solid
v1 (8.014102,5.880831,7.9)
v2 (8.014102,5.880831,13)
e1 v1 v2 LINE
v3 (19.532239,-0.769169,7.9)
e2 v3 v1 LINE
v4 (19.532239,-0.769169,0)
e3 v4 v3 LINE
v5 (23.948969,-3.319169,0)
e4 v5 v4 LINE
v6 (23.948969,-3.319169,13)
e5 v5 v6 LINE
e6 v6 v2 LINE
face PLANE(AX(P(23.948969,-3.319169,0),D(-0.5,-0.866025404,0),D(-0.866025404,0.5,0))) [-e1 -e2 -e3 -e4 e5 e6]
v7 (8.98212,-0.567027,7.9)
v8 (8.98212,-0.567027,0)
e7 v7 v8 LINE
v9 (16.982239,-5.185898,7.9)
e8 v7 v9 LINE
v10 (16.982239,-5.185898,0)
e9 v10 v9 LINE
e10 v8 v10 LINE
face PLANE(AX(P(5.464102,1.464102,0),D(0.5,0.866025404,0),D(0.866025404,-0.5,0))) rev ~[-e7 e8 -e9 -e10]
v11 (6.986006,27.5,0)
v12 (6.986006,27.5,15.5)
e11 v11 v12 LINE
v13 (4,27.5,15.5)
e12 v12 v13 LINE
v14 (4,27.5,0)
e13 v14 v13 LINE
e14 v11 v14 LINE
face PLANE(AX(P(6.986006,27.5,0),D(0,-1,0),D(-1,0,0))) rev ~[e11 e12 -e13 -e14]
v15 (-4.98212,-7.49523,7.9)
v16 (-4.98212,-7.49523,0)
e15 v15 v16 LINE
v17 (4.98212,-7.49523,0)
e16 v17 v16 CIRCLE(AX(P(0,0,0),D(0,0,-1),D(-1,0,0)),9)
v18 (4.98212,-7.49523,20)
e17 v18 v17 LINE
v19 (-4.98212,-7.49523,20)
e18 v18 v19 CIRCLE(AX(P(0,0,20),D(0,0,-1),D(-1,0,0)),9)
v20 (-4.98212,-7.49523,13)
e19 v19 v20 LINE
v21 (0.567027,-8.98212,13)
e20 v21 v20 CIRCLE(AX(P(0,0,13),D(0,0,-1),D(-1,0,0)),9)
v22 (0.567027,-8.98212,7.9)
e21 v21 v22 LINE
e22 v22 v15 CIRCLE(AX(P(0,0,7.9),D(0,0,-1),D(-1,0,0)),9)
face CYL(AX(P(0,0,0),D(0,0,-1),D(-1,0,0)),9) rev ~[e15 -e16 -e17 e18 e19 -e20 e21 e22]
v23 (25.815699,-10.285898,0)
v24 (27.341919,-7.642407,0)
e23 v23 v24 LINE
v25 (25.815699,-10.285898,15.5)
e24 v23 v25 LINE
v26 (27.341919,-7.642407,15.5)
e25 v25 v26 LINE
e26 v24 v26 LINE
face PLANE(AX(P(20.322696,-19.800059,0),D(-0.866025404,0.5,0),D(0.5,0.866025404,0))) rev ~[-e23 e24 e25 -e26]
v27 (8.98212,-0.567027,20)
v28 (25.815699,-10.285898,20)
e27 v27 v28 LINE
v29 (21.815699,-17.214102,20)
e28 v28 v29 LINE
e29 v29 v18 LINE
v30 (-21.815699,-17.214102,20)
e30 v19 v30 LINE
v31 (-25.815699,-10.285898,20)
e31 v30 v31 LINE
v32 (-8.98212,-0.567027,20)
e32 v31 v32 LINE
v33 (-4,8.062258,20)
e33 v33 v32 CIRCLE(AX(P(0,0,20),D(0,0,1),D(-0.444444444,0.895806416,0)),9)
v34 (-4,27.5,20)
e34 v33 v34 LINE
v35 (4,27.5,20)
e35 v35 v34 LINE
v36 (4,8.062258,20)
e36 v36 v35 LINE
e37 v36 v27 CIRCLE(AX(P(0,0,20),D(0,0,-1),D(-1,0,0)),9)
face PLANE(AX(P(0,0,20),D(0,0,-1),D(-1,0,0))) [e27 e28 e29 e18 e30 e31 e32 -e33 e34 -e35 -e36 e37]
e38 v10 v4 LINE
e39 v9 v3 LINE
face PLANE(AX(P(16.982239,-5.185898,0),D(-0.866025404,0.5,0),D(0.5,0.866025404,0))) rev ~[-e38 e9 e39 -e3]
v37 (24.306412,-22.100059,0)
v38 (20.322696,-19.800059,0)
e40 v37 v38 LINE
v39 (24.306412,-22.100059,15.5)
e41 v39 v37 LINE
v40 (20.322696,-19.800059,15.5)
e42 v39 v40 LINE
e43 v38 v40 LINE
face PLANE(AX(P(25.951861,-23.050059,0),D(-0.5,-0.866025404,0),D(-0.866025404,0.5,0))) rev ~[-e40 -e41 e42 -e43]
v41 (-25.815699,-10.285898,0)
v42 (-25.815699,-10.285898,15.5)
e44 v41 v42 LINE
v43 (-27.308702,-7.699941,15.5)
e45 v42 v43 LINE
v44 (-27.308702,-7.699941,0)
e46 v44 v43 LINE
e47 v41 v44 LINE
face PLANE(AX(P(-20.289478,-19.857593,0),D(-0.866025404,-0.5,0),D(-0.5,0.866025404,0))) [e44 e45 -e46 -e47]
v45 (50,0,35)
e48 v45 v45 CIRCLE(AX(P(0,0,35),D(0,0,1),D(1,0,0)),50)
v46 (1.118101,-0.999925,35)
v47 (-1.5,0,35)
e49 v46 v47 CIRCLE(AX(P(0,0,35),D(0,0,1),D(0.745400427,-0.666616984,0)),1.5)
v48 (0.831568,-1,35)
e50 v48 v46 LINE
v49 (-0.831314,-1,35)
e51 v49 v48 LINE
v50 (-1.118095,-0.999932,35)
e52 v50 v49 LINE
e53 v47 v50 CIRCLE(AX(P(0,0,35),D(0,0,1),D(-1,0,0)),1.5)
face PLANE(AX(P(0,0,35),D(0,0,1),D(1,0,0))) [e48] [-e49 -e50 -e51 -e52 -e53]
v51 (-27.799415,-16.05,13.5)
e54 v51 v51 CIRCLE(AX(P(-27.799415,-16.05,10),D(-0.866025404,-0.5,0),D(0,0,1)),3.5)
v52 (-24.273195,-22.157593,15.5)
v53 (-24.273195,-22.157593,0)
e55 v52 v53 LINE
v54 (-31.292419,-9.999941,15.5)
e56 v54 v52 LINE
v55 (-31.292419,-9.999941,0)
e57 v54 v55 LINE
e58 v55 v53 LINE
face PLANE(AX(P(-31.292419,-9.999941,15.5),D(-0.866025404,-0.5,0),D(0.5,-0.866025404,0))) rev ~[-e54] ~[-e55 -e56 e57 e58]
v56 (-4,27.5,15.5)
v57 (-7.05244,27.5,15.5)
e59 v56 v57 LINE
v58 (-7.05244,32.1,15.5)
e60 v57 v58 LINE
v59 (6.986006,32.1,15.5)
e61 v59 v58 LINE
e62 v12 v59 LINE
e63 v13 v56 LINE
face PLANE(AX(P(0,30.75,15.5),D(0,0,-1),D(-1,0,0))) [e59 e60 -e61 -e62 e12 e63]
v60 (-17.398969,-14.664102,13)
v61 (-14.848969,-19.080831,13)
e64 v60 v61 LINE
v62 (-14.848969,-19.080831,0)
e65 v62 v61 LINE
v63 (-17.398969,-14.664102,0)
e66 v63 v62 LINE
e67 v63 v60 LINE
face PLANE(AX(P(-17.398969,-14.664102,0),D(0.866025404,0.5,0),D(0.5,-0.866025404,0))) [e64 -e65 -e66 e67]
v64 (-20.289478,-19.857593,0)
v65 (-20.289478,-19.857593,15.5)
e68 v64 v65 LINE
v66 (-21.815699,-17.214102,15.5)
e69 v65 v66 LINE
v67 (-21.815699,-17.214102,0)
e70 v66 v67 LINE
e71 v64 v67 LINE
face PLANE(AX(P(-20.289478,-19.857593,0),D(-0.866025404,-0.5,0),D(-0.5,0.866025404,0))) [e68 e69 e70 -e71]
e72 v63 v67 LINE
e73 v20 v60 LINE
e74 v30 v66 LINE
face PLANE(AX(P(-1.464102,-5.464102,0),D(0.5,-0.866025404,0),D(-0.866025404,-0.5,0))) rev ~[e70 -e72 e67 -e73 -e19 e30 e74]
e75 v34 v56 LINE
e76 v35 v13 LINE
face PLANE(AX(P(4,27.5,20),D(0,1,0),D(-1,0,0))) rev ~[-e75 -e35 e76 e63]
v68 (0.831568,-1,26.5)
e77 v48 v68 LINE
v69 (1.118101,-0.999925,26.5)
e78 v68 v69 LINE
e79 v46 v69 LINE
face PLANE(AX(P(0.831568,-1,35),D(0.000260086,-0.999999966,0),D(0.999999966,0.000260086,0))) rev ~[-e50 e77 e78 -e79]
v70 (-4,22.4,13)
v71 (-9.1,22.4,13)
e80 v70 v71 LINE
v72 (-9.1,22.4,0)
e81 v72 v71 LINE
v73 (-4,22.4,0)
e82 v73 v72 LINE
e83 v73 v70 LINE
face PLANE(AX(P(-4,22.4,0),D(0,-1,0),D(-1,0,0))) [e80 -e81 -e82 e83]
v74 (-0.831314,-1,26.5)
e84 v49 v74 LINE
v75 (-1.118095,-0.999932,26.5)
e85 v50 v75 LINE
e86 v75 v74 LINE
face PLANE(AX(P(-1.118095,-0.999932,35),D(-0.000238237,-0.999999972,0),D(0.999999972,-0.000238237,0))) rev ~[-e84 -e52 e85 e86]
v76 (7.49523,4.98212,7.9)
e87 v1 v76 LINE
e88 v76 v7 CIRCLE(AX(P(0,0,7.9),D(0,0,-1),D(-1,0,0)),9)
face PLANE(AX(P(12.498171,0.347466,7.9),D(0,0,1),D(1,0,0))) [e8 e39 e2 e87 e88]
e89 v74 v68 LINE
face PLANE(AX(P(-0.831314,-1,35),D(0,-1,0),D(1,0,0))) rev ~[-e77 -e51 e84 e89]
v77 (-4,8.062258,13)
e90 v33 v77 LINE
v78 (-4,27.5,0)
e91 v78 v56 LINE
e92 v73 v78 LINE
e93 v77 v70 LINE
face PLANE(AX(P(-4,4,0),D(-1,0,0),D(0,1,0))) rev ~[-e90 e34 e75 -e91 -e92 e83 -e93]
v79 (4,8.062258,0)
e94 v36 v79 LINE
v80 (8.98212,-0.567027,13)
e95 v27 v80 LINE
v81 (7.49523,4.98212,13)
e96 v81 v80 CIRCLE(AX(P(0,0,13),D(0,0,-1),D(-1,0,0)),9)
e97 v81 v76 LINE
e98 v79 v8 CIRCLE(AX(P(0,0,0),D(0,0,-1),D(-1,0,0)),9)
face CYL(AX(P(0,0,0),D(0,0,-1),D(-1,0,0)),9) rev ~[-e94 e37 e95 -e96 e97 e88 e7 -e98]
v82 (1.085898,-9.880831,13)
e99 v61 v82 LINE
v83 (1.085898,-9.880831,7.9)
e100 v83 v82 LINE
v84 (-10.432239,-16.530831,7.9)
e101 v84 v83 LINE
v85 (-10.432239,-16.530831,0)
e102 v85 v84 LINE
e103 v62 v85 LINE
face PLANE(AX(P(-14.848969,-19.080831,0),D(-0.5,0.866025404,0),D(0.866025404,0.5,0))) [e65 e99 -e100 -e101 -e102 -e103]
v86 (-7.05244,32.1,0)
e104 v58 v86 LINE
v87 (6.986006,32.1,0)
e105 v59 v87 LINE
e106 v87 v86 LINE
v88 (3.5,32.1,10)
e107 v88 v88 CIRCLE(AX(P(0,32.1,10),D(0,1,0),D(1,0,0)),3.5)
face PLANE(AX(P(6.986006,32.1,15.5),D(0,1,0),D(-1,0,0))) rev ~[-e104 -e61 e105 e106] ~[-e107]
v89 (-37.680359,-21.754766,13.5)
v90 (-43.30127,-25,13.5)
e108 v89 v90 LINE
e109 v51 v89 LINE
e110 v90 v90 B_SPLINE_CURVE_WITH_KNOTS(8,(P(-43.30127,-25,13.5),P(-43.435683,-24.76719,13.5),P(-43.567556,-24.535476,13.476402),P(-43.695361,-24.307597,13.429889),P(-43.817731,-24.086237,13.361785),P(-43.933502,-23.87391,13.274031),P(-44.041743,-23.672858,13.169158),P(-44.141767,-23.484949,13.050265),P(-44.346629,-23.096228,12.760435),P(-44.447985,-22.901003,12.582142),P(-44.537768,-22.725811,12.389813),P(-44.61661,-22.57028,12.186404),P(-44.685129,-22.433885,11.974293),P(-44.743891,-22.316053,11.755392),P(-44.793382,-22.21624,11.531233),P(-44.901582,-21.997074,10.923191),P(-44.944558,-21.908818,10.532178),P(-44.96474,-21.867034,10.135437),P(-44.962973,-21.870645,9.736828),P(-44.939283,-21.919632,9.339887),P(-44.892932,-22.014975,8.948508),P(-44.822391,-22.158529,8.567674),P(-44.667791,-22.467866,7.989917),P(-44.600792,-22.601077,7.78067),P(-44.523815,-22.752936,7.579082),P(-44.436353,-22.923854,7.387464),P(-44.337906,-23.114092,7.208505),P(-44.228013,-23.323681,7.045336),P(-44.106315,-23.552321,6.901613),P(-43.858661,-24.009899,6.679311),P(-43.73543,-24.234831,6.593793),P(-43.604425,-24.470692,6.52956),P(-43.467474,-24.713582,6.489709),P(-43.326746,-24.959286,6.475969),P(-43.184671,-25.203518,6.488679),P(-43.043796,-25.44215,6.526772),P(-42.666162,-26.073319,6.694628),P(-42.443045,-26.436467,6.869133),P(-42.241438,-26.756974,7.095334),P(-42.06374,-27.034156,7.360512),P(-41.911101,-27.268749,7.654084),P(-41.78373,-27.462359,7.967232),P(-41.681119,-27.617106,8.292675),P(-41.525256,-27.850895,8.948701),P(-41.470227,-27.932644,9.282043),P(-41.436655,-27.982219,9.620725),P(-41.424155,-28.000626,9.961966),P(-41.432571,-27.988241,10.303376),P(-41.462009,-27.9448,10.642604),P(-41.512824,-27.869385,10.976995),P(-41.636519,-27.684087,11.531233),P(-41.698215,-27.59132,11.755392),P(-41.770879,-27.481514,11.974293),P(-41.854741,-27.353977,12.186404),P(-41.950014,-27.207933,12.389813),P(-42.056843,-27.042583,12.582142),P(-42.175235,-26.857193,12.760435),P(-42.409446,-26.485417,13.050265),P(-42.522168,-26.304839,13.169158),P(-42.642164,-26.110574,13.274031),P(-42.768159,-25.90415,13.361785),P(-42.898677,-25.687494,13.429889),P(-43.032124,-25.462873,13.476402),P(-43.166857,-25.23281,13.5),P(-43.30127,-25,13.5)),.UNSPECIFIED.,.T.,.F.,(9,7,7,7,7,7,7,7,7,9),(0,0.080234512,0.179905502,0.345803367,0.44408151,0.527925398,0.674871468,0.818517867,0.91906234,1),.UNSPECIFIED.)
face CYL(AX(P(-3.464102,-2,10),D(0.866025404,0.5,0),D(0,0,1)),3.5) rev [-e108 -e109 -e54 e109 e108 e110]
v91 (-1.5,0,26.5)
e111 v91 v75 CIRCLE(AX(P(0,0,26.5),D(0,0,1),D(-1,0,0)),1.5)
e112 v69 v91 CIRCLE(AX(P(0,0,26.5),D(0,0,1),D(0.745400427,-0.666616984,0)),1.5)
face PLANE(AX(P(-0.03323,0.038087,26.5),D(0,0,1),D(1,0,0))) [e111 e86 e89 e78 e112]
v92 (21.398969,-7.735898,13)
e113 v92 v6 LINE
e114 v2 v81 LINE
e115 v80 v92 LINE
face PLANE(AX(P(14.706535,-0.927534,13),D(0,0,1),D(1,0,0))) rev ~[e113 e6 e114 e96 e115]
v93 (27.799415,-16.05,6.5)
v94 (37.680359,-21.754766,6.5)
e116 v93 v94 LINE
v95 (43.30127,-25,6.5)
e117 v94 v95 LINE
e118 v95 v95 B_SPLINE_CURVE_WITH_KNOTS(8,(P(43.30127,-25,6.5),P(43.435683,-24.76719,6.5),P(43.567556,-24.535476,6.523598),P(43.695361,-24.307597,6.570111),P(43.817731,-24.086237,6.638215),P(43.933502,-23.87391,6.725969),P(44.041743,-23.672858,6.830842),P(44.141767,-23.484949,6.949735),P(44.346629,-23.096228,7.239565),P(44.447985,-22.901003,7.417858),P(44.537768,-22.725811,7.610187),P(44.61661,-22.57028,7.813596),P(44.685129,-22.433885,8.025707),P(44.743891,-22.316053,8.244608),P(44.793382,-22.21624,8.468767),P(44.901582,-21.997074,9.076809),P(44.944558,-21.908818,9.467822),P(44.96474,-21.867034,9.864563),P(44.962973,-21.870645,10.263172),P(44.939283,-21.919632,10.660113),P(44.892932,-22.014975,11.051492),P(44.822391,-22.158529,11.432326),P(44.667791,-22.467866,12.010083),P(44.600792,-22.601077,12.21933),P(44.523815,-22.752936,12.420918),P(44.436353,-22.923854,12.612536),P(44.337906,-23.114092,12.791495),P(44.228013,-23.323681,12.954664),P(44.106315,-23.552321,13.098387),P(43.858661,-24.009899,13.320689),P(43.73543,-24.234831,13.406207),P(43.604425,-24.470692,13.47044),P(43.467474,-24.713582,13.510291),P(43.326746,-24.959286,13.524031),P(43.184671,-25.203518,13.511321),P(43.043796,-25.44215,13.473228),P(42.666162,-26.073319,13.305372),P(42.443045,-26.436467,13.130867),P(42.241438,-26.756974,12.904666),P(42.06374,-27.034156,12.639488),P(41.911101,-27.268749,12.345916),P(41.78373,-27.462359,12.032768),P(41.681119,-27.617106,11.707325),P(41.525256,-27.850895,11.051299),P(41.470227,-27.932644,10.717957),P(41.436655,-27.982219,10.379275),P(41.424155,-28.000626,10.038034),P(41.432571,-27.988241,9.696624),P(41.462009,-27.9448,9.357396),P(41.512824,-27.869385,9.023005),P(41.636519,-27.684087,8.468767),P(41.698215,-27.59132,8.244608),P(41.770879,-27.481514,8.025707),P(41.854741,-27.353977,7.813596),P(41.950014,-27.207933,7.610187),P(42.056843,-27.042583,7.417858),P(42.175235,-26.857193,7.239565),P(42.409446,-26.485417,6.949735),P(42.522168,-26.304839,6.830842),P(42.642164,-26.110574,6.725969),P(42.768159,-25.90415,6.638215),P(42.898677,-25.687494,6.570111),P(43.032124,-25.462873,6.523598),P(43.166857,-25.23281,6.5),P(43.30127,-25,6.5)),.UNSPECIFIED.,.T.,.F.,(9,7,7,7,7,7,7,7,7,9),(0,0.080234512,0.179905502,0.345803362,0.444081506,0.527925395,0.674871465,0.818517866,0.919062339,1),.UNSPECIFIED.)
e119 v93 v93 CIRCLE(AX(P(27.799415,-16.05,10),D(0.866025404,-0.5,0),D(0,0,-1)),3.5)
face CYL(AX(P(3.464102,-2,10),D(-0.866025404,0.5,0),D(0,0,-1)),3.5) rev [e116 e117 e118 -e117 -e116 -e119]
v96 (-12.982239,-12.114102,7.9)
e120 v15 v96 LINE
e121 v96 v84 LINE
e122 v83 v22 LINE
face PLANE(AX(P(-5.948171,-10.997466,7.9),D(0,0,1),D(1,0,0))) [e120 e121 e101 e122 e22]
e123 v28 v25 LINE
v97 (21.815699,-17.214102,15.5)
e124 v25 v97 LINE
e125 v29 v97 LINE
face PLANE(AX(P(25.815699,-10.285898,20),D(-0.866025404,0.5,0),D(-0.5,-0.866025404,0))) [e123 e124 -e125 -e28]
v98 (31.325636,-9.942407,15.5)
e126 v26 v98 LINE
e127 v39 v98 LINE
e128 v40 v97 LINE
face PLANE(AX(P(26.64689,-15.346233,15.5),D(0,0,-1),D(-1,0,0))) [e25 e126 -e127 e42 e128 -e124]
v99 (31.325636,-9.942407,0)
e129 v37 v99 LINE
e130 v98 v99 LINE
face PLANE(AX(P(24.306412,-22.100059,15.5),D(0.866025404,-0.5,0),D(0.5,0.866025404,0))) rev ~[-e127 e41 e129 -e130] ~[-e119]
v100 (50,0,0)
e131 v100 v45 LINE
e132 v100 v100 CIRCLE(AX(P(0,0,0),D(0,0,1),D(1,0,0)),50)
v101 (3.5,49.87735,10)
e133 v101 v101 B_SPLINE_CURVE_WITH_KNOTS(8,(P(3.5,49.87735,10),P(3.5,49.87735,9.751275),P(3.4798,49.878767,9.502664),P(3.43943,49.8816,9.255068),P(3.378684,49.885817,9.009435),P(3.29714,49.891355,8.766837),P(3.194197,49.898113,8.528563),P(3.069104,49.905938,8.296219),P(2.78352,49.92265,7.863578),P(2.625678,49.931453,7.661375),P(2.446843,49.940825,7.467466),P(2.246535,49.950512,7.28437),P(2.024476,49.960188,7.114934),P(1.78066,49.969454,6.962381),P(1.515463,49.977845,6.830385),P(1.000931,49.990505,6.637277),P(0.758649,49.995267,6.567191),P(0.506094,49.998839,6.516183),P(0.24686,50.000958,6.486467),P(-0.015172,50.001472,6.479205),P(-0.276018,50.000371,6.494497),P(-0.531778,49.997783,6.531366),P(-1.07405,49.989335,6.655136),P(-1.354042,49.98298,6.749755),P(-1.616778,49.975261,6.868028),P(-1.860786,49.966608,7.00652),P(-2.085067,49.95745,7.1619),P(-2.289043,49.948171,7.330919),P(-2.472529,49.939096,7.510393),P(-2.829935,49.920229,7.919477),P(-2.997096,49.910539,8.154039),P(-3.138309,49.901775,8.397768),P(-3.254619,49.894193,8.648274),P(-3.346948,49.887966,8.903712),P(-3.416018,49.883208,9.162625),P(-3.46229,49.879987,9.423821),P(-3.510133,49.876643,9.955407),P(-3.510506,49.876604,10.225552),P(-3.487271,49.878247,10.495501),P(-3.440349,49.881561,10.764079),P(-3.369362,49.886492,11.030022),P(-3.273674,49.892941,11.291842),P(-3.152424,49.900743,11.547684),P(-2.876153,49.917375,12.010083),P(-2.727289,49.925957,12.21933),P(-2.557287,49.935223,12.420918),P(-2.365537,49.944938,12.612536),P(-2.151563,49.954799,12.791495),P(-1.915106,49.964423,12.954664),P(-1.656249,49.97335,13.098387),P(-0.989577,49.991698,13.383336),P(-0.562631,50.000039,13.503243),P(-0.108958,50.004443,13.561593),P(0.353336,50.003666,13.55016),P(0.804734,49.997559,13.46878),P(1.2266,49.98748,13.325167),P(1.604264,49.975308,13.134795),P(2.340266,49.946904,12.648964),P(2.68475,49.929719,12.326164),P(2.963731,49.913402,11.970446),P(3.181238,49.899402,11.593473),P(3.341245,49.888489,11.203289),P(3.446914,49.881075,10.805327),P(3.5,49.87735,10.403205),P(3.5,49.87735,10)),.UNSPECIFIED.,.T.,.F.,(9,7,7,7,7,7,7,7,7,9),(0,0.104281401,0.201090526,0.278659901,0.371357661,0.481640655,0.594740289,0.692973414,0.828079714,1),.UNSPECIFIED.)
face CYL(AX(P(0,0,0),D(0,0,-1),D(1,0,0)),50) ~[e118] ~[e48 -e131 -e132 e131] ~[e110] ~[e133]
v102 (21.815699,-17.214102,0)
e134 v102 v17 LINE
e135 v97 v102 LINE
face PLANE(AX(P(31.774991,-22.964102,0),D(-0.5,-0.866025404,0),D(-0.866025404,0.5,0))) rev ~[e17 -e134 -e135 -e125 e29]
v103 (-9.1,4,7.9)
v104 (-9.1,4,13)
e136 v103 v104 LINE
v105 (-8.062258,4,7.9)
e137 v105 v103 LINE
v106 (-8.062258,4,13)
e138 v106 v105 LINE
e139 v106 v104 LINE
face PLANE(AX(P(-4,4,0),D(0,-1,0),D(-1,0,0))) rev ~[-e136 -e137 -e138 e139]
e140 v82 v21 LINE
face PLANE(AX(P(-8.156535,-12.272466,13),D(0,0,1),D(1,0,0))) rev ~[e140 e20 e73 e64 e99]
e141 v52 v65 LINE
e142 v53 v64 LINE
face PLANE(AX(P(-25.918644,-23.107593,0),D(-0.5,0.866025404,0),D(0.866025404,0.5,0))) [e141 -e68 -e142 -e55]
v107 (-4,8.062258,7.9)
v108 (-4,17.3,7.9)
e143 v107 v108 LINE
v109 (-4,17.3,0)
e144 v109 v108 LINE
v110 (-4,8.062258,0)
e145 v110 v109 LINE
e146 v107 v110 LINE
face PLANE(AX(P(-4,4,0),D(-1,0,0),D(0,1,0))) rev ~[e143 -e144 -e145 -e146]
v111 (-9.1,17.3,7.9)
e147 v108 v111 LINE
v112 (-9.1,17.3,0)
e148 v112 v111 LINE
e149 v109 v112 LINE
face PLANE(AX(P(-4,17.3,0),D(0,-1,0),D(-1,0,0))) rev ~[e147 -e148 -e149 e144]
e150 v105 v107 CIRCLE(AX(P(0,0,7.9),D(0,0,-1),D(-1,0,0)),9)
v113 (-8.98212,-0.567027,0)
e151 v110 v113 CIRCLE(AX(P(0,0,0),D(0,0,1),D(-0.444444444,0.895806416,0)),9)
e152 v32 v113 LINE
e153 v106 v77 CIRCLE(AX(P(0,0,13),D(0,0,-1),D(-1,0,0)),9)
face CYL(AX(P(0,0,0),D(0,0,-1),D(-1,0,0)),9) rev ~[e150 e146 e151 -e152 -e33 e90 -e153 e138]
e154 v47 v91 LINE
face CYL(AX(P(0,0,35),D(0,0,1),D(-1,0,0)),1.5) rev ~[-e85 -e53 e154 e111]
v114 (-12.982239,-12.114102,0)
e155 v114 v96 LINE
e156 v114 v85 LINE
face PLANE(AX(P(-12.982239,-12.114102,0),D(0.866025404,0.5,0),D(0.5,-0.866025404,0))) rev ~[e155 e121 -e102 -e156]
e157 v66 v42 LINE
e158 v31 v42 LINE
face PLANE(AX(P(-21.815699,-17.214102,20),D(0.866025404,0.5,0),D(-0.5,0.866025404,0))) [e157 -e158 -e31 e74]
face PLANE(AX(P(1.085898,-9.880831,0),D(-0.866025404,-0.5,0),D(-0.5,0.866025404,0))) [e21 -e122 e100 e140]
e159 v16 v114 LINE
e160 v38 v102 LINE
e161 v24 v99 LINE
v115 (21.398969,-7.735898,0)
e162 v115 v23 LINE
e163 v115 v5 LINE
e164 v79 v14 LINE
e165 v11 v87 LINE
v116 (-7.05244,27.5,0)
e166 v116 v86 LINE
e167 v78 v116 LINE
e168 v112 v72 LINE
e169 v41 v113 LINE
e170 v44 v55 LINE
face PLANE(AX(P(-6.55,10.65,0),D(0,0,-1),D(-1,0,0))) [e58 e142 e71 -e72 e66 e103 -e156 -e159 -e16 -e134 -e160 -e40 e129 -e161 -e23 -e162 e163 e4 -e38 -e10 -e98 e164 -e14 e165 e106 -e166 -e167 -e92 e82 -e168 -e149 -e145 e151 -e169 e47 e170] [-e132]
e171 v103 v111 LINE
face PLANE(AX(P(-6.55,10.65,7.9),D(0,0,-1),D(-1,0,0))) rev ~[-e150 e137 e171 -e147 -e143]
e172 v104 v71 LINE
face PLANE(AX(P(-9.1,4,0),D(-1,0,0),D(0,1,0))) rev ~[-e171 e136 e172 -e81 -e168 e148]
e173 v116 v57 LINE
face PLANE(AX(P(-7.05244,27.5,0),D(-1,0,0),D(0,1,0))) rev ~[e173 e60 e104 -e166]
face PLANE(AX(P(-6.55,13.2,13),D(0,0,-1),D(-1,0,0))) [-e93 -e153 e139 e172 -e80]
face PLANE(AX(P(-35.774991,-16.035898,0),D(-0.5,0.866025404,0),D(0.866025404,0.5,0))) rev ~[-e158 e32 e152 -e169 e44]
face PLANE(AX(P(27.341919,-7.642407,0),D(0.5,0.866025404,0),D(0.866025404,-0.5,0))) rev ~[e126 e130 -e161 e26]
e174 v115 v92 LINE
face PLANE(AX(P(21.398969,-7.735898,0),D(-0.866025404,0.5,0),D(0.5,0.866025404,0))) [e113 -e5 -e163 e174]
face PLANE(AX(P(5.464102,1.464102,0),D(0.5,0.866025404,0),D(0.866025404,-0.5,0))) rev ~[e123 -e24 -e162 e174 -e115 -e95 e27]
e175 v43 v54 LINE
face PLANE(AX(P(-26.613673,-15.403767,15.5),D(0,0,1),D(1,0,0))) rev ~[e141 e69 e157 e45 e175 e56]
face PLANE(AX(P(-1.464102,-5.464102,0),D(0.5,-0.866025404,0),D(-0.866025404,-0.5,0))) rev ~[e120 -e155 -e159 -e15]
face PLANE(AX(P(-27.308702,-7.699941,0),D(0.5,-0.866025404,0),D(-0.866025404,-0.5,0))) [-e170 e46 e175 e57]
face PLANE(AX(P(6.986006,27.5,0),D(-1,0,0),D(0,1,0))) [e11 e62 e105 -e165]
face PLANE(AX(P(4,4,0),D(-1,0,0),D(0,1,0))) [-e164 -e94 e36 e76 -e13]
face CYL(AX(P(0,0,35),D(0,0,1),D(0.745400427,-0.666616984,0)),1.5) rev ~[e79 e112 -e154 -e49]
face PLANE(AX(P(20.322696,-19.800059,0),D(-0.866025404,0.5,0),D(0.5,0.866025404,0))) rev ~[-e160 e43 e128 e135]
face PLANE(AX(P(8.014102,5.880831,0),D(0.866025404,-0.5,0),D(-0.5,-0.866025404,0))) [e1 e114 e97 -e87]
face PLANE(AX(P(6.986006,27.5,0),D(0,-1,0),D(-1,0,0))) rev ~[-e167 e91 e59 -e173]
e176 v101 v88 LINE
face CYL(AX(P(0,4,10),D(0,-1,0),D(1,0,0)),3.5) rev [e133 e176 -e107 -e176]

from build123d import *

# Parameters (mm, degrees)
SKETCH2_R           = 50
BOSS_EXTRUDE1_DEPTH = 35
SKETCH3_W           = 8
SKETCH3_H           = 35
CUT_EXTRUDE1_DEPTH  = 20
SKETCH4_R           = 3.5
CUT_EXTRUDE2_DEPTH  = 80
SKETCH5_R           = 3.5
CUT_EXTRUDE3_DEPTH  = 50
SKETCH6_R           = 3.5
CUT_EXTRUDE4_DEPTH  = 50
SKETCH8_W           = 14.038446545
SKETCH8_H           = 6.5
CUT_EXTRUDE5_DEPTH  = 15.5
SKETCH11_W          = 8
SKETCH11_H          = 6.5
BOSS_EXTRUDE2_DEPTH = 4.5
BOSS_EXTRUDE3_DEPTH = 15.5
BOSS_EXTRUDE4_DEPTH = 35
SKETCH18_R          = 3.5
CUT_EXTRUDE9_DEPTH  = 25
SKETCH19_R          = 3.5
CUT_EXTRUDE10_DEPTH = 25
SKETCH20_R          = 3.5
CUT_EXTRUDE11_DEPTH = 25
SKETCH21_W          = 5.1
SKETCH21_H          = 18.4
CUT_EXTRUDE12_DEPTH = 13
SKETCH23_W          = 5.1
SKETCH23_H          = 18.4
CUT_EXTRUDE13_DEPTH = 13
SKETCH22_W          = 5.1
SKETCH22_H          = 13.3
BOSS_EXTRUDE5_DEPTH = 7.9
CUT_EXTRUDE14_DEPTH = 8.5
SKETCH25_R          = 9
CUT_EXTRUDE15_DEPTH = 20


with BuildPart() as part:
    # Sketch2 → Boss-Extrude1 (new body)
    with BuildSketch(Plane.XY):
        Circle(SKETCH2_R)
    extrude(amount=BOSS_EXTRUDE1_DEPTH)

    # Sketch3 → Cut-Extrude1 (cut)
    with BuildSketch(Plane(origin=(0, 0, 0), x_dir=(-1, 0, 0), z_dir=(0, 0, -1))):
        with Locations((0, 21.5)):
            Rectangle(SKETCH3_W, SKETCH3_H)
        Polygon((31.774990748, -22.964101615), (35.774990748, -16.035898385), (5.464101615, 1.464101615), (1.464101615, -5.464101615), align=None)
        Polygon((-35.774990748, -16.035898385), (-31.774990748, -22.964101615), (-1.464101615, -5.464101615), (-5.464101615, 1.464101615), align=None)
    extrude(amount=-CUT_EXTRUDE1_DEPTH, mode=Mode.SUBTRACT)

    # Sketch4 → Cut-Extrude2 (cut)
    with BuildSketch(Plane(origin=(-3.464101615, -2, 0), x_dir=(0, 0, 1), z_dir=(-0.866025404, -0.5, 0))):
        with Locations((10, 0)):
            Circle(SKETCH4_R)
    extrude(amount=CUT_EXTRUDE2_DEPTH, mode=Mode.SUBTRACT)

    # Sketch5 → Cut-Extrude3 (cut)
    with BuildSketch(Plane(origin=(0, 4, 0), x_dir=(1, 0, 0), z_dir=(0, 1, 0))):
        with Locations((0, -10)):
            Circle(SKETCH5_R)
    extrude(amount=CUT_EXTRUDE3_DEPTH, mode=Mode.SUBTRACT)

    # Sketch6 → Cut-Extrude4 (cut)
    with BuildSketch(Plane(origin=(3.464101615, -2, 0), x_dir=(0, 0, -1), z_dir=(0.866025404, -0.5, 0))):
        with Locations((-10, 0)):
            Circle(SKETCH6_R)
    extrude(amount=CUT_EXTRUDE4_DEPTH, mode=Mode.SUBTRACT)

    # Sketch8 → Cut-Extrude5 (cut)
    with BuildSketch(Plane(origin=(0, 0, 0), x_dir=(-1, 0, 0), z_dir=(0, 0, -1))):
        Polygon((-32.971083956, -10.892407408), (-25.951860683, -23.050058746), (-20.322695558, -19.800058746), (-27.341918831, -7.642407408), align=None)
        with Locations((0.033217181, 30.75)):
            Rectangle(SKETCH8_W, SKETCH8_H)
        Polygon((27.30870165, -7.699941254), (32.937866774, -10.949941254), (25.918643502, -23.107592592), (20.289478377, -19.857592592), align=None)
    extrude(amount=-CUT_EXTRUDE5_DEPTH, mode=Mode.SUBTRACT)

    # Sketch11 → Boss-Extrude2 (add)
    with BuildSketch(Plane(origin=(0, 0, 20), x_dir=(-1, 0, 0), z_dir=(0, 0, -1))):
        with Locations((0, 30.75)):
            Rectangle(SKETCH11_W, SKETCH11_H)
        Polygon((25.815698604, -10.285898385), (31.444863729, -13.535898385), (27.444863729, -20.464101615), (21.815698604, -17.214101615), align=None)
        Polygon((-21.815698604, -17.214101615), (-27.444863729, -20.464101615), (-31.444863729, -13.535898385), (-25.815698604, -10.285898385), align=None)
    extrude(amount=BOSS_EXTRUDE2_DEPTH)

    # Sketch12 → Boss-Extrude3 (add)
    with BuildSketch(Plane(origin=(0, 0, 15.5), x_dir=(-1, 0, 0), z_dir=(0, 0, -1))):
        Polygon((-6.986006091, 32.1), (7.052440454, 32.1), (7.052440454, 34), (4, 34), (4, 39), (-4, 39), (-4, 34), (-6.986006091, 34), align=None)
        Polygon((25.918643502, -23.107592592), (27.444863729, -20.464101615), (31.774990748, -22.964101615), (35.774990748, -16.035898385), (31.444863729, -13.535898385), (32.937866774, -10.949941254), (31.292418507, -9.999941254), (24.273195235, -22.157592592), align=None)
        Polygon((-32.971083956, -10.892407408), (-31.444863729, -13.535898385), (-35.774990748, -16.035898385), (-31.774990748, -22.964101615), (-27.444863729, -20.464101615), (-25.951860683, -23.050058746), (-24.306412416, -22.100058746), (-31.325635688, -9.942407408), align=None)
    extrude(amount=BOSS_EXTRUDE3_DEPTH)

    # Sketch17 → Boss-Extrude4 (add)
    with BuildSketch(Plane(origin=(0, 0, 0), x_dir=(-1, 0, 0), z_dir=(0, 0, -1))):
        Polygon((-5.842787082, 32.897450406), (-5.842787082, 43.509531182), (5.727819383, 43.509531182), (5.754751517, 32.897450406), align=None)
        Polygon((31.411421312, -11.388723161), (25.612652013, -21.432486209), (34.816449619, -26.715202685), (40.601752851, -16.69476355), align=None)
        Polygon((-25.568634231, -21.508727245), (-31.36740353, -11.464964197), (-40.544269002, -16.794328497), (-34.75896577, -26.814767633), align=None)
    extrude(amount=-BOSS_EXTRUDE4_DEPTH)

    # Sketch18 → Cut-Extrude9 (cut, symmetric)
    with BuildSketch(Plane(origin=(-37.680359311, -21.754765591, 0), x_dir=(0, 0, 1), z_dir=(-0.866025404, -0.5, 0))):
        with Locations((10, 0)):
            Circle(SKETCH18_R)
    extrude(amount=CUT_EXTRUDE9_DEPTH, both=True, mode=Mode.SUBTRACT)

    # Sketch19 → Cut-Extrude10 (cut, symmetric)
    with BuildSketch(Plane(origin=(37.680359311, -21.754765591, 0), x_dir=(0, 0, -1), z_dir=(0.866025404, -0.5, 0))):
        with Locations((-10, 0)):
            Circle(SKETCH19_R)
    extrude(amount=CUT_EXTRUDE10_DEPTH, both=True, mode=Mode.SUBTRACT)

    # Sketch20 → Cut-Extrude11 (cut, symmetric)
    with BuildSketch(Plane(origin=(0, 43.509531182, 0), x_dir=(1, 0, 0), z_dir=(0, 1, 0))):
        with Locations((0, -10)):
            Circle(SKETCH20_R)
    extrude(amount=CUT_EXTRUDE11_DEPTH, both=True, mode=Mode.SUBTRACT)

    # Sketch21 → Cut-Extrude12 (cut)
    with BuildSketch(Plane(origin=(0, 0, 0), x_dir=(-1, 0, 0), z_dir=(0, 0, -1))):
        with Locations((6.55, 13.2)):
            Rectangle(SKETCH21_W, SKETCH21_H)
    extrude(amount=-CUT_EXTRUDE12_DEPTH, mode=Mode.SUBTRACT)

    # Sketch23 → Cut-Extrude13 (cut)
    with BuildSketch(Plane(origin=(0, 0, 0), x_dir=(-1, 0, 0), z_dir=(0, 0, -1))):
        with Locations((6.55, 13.2)):
            Rectangle(SKETCH23_W, SKETCH23_H)
        Polygon((-1.085898385, -9.880831174), (1.464101615, -5.464101615), (17.398969045, -14.664101615), (14.848969045, -19.080831174), align=None)
        Polygon((-8.014101615, 5.880831174), (-5.464101615, 1.464101615), (-21.398969045, -7.735898385), (-23.948969045, -3.319168826), align=None)
    extrude(amount=-CUT_EXTRUDE13_DEPTH, mode=Mode.SUBTRACT)

    # Sketch22 → Boss-Extrude5 (add)
    with BuildSketch(Plane(origin=(0, 0, 0), x_dir=(-1, 0, 0), z_dir=(0, 0, -1))):
        with Locations((6.55, 10.65)):
            Rectangle(SKETCH22_W, SKETCH22_H)
        Polygon((-1.085898385, -9.880831174), (1.464101615, -5.464101615), (12.982239485, -12.114101615), (10.432239485, -16.530831174), align=None)
        Polygon((-8.014101615, 5.880831174), (-5.464101615, 1.464101615), (-16.982239485, -5.185898385), (-19.532239485, -0.769168826), align=None)
    extrude(amount=-BOSS_EXTRUDE5_DEPTH)

    # Sketch24 → Cut-Extrude14 (cut)
    with BuildSketch(Plane.XY.offset(35)):
        with BuildLine():
            Line((0.831568399, -1), (1.11810064, -0.999925477))
            ThreePointArc((1.11810064, -0.999925477), (0.535186435, 1.401276375), (-1.5, 0))
            ThreePointArc((-1.5, 0), (-1.401274891, -0.535190321), (-1.118095094, -0.999931678))
            Line((-1.118095094, -0.999931678), (-0.831313787, -1))
            Line((-0.831313787, -1), (0.831568399, -1))
        make_face()
    extrude(amount=-CUT_EXTRUDE14_DEPTH, mode=Mode.SUBTRACT)

    # Sketch25 → Cut-Extrude15 (cut)
    with BuildSketch(Plane(origin=(0, 0, 0), x_dir=(-1, 0, 0), z_dir=(0, 0, -1))):
        Circle(SKETCH25_R)
    extrude(amount=-CUT_EXTRUDE15_DEPTH, mode=Mode.SUBTRACT)


solid = part.part
